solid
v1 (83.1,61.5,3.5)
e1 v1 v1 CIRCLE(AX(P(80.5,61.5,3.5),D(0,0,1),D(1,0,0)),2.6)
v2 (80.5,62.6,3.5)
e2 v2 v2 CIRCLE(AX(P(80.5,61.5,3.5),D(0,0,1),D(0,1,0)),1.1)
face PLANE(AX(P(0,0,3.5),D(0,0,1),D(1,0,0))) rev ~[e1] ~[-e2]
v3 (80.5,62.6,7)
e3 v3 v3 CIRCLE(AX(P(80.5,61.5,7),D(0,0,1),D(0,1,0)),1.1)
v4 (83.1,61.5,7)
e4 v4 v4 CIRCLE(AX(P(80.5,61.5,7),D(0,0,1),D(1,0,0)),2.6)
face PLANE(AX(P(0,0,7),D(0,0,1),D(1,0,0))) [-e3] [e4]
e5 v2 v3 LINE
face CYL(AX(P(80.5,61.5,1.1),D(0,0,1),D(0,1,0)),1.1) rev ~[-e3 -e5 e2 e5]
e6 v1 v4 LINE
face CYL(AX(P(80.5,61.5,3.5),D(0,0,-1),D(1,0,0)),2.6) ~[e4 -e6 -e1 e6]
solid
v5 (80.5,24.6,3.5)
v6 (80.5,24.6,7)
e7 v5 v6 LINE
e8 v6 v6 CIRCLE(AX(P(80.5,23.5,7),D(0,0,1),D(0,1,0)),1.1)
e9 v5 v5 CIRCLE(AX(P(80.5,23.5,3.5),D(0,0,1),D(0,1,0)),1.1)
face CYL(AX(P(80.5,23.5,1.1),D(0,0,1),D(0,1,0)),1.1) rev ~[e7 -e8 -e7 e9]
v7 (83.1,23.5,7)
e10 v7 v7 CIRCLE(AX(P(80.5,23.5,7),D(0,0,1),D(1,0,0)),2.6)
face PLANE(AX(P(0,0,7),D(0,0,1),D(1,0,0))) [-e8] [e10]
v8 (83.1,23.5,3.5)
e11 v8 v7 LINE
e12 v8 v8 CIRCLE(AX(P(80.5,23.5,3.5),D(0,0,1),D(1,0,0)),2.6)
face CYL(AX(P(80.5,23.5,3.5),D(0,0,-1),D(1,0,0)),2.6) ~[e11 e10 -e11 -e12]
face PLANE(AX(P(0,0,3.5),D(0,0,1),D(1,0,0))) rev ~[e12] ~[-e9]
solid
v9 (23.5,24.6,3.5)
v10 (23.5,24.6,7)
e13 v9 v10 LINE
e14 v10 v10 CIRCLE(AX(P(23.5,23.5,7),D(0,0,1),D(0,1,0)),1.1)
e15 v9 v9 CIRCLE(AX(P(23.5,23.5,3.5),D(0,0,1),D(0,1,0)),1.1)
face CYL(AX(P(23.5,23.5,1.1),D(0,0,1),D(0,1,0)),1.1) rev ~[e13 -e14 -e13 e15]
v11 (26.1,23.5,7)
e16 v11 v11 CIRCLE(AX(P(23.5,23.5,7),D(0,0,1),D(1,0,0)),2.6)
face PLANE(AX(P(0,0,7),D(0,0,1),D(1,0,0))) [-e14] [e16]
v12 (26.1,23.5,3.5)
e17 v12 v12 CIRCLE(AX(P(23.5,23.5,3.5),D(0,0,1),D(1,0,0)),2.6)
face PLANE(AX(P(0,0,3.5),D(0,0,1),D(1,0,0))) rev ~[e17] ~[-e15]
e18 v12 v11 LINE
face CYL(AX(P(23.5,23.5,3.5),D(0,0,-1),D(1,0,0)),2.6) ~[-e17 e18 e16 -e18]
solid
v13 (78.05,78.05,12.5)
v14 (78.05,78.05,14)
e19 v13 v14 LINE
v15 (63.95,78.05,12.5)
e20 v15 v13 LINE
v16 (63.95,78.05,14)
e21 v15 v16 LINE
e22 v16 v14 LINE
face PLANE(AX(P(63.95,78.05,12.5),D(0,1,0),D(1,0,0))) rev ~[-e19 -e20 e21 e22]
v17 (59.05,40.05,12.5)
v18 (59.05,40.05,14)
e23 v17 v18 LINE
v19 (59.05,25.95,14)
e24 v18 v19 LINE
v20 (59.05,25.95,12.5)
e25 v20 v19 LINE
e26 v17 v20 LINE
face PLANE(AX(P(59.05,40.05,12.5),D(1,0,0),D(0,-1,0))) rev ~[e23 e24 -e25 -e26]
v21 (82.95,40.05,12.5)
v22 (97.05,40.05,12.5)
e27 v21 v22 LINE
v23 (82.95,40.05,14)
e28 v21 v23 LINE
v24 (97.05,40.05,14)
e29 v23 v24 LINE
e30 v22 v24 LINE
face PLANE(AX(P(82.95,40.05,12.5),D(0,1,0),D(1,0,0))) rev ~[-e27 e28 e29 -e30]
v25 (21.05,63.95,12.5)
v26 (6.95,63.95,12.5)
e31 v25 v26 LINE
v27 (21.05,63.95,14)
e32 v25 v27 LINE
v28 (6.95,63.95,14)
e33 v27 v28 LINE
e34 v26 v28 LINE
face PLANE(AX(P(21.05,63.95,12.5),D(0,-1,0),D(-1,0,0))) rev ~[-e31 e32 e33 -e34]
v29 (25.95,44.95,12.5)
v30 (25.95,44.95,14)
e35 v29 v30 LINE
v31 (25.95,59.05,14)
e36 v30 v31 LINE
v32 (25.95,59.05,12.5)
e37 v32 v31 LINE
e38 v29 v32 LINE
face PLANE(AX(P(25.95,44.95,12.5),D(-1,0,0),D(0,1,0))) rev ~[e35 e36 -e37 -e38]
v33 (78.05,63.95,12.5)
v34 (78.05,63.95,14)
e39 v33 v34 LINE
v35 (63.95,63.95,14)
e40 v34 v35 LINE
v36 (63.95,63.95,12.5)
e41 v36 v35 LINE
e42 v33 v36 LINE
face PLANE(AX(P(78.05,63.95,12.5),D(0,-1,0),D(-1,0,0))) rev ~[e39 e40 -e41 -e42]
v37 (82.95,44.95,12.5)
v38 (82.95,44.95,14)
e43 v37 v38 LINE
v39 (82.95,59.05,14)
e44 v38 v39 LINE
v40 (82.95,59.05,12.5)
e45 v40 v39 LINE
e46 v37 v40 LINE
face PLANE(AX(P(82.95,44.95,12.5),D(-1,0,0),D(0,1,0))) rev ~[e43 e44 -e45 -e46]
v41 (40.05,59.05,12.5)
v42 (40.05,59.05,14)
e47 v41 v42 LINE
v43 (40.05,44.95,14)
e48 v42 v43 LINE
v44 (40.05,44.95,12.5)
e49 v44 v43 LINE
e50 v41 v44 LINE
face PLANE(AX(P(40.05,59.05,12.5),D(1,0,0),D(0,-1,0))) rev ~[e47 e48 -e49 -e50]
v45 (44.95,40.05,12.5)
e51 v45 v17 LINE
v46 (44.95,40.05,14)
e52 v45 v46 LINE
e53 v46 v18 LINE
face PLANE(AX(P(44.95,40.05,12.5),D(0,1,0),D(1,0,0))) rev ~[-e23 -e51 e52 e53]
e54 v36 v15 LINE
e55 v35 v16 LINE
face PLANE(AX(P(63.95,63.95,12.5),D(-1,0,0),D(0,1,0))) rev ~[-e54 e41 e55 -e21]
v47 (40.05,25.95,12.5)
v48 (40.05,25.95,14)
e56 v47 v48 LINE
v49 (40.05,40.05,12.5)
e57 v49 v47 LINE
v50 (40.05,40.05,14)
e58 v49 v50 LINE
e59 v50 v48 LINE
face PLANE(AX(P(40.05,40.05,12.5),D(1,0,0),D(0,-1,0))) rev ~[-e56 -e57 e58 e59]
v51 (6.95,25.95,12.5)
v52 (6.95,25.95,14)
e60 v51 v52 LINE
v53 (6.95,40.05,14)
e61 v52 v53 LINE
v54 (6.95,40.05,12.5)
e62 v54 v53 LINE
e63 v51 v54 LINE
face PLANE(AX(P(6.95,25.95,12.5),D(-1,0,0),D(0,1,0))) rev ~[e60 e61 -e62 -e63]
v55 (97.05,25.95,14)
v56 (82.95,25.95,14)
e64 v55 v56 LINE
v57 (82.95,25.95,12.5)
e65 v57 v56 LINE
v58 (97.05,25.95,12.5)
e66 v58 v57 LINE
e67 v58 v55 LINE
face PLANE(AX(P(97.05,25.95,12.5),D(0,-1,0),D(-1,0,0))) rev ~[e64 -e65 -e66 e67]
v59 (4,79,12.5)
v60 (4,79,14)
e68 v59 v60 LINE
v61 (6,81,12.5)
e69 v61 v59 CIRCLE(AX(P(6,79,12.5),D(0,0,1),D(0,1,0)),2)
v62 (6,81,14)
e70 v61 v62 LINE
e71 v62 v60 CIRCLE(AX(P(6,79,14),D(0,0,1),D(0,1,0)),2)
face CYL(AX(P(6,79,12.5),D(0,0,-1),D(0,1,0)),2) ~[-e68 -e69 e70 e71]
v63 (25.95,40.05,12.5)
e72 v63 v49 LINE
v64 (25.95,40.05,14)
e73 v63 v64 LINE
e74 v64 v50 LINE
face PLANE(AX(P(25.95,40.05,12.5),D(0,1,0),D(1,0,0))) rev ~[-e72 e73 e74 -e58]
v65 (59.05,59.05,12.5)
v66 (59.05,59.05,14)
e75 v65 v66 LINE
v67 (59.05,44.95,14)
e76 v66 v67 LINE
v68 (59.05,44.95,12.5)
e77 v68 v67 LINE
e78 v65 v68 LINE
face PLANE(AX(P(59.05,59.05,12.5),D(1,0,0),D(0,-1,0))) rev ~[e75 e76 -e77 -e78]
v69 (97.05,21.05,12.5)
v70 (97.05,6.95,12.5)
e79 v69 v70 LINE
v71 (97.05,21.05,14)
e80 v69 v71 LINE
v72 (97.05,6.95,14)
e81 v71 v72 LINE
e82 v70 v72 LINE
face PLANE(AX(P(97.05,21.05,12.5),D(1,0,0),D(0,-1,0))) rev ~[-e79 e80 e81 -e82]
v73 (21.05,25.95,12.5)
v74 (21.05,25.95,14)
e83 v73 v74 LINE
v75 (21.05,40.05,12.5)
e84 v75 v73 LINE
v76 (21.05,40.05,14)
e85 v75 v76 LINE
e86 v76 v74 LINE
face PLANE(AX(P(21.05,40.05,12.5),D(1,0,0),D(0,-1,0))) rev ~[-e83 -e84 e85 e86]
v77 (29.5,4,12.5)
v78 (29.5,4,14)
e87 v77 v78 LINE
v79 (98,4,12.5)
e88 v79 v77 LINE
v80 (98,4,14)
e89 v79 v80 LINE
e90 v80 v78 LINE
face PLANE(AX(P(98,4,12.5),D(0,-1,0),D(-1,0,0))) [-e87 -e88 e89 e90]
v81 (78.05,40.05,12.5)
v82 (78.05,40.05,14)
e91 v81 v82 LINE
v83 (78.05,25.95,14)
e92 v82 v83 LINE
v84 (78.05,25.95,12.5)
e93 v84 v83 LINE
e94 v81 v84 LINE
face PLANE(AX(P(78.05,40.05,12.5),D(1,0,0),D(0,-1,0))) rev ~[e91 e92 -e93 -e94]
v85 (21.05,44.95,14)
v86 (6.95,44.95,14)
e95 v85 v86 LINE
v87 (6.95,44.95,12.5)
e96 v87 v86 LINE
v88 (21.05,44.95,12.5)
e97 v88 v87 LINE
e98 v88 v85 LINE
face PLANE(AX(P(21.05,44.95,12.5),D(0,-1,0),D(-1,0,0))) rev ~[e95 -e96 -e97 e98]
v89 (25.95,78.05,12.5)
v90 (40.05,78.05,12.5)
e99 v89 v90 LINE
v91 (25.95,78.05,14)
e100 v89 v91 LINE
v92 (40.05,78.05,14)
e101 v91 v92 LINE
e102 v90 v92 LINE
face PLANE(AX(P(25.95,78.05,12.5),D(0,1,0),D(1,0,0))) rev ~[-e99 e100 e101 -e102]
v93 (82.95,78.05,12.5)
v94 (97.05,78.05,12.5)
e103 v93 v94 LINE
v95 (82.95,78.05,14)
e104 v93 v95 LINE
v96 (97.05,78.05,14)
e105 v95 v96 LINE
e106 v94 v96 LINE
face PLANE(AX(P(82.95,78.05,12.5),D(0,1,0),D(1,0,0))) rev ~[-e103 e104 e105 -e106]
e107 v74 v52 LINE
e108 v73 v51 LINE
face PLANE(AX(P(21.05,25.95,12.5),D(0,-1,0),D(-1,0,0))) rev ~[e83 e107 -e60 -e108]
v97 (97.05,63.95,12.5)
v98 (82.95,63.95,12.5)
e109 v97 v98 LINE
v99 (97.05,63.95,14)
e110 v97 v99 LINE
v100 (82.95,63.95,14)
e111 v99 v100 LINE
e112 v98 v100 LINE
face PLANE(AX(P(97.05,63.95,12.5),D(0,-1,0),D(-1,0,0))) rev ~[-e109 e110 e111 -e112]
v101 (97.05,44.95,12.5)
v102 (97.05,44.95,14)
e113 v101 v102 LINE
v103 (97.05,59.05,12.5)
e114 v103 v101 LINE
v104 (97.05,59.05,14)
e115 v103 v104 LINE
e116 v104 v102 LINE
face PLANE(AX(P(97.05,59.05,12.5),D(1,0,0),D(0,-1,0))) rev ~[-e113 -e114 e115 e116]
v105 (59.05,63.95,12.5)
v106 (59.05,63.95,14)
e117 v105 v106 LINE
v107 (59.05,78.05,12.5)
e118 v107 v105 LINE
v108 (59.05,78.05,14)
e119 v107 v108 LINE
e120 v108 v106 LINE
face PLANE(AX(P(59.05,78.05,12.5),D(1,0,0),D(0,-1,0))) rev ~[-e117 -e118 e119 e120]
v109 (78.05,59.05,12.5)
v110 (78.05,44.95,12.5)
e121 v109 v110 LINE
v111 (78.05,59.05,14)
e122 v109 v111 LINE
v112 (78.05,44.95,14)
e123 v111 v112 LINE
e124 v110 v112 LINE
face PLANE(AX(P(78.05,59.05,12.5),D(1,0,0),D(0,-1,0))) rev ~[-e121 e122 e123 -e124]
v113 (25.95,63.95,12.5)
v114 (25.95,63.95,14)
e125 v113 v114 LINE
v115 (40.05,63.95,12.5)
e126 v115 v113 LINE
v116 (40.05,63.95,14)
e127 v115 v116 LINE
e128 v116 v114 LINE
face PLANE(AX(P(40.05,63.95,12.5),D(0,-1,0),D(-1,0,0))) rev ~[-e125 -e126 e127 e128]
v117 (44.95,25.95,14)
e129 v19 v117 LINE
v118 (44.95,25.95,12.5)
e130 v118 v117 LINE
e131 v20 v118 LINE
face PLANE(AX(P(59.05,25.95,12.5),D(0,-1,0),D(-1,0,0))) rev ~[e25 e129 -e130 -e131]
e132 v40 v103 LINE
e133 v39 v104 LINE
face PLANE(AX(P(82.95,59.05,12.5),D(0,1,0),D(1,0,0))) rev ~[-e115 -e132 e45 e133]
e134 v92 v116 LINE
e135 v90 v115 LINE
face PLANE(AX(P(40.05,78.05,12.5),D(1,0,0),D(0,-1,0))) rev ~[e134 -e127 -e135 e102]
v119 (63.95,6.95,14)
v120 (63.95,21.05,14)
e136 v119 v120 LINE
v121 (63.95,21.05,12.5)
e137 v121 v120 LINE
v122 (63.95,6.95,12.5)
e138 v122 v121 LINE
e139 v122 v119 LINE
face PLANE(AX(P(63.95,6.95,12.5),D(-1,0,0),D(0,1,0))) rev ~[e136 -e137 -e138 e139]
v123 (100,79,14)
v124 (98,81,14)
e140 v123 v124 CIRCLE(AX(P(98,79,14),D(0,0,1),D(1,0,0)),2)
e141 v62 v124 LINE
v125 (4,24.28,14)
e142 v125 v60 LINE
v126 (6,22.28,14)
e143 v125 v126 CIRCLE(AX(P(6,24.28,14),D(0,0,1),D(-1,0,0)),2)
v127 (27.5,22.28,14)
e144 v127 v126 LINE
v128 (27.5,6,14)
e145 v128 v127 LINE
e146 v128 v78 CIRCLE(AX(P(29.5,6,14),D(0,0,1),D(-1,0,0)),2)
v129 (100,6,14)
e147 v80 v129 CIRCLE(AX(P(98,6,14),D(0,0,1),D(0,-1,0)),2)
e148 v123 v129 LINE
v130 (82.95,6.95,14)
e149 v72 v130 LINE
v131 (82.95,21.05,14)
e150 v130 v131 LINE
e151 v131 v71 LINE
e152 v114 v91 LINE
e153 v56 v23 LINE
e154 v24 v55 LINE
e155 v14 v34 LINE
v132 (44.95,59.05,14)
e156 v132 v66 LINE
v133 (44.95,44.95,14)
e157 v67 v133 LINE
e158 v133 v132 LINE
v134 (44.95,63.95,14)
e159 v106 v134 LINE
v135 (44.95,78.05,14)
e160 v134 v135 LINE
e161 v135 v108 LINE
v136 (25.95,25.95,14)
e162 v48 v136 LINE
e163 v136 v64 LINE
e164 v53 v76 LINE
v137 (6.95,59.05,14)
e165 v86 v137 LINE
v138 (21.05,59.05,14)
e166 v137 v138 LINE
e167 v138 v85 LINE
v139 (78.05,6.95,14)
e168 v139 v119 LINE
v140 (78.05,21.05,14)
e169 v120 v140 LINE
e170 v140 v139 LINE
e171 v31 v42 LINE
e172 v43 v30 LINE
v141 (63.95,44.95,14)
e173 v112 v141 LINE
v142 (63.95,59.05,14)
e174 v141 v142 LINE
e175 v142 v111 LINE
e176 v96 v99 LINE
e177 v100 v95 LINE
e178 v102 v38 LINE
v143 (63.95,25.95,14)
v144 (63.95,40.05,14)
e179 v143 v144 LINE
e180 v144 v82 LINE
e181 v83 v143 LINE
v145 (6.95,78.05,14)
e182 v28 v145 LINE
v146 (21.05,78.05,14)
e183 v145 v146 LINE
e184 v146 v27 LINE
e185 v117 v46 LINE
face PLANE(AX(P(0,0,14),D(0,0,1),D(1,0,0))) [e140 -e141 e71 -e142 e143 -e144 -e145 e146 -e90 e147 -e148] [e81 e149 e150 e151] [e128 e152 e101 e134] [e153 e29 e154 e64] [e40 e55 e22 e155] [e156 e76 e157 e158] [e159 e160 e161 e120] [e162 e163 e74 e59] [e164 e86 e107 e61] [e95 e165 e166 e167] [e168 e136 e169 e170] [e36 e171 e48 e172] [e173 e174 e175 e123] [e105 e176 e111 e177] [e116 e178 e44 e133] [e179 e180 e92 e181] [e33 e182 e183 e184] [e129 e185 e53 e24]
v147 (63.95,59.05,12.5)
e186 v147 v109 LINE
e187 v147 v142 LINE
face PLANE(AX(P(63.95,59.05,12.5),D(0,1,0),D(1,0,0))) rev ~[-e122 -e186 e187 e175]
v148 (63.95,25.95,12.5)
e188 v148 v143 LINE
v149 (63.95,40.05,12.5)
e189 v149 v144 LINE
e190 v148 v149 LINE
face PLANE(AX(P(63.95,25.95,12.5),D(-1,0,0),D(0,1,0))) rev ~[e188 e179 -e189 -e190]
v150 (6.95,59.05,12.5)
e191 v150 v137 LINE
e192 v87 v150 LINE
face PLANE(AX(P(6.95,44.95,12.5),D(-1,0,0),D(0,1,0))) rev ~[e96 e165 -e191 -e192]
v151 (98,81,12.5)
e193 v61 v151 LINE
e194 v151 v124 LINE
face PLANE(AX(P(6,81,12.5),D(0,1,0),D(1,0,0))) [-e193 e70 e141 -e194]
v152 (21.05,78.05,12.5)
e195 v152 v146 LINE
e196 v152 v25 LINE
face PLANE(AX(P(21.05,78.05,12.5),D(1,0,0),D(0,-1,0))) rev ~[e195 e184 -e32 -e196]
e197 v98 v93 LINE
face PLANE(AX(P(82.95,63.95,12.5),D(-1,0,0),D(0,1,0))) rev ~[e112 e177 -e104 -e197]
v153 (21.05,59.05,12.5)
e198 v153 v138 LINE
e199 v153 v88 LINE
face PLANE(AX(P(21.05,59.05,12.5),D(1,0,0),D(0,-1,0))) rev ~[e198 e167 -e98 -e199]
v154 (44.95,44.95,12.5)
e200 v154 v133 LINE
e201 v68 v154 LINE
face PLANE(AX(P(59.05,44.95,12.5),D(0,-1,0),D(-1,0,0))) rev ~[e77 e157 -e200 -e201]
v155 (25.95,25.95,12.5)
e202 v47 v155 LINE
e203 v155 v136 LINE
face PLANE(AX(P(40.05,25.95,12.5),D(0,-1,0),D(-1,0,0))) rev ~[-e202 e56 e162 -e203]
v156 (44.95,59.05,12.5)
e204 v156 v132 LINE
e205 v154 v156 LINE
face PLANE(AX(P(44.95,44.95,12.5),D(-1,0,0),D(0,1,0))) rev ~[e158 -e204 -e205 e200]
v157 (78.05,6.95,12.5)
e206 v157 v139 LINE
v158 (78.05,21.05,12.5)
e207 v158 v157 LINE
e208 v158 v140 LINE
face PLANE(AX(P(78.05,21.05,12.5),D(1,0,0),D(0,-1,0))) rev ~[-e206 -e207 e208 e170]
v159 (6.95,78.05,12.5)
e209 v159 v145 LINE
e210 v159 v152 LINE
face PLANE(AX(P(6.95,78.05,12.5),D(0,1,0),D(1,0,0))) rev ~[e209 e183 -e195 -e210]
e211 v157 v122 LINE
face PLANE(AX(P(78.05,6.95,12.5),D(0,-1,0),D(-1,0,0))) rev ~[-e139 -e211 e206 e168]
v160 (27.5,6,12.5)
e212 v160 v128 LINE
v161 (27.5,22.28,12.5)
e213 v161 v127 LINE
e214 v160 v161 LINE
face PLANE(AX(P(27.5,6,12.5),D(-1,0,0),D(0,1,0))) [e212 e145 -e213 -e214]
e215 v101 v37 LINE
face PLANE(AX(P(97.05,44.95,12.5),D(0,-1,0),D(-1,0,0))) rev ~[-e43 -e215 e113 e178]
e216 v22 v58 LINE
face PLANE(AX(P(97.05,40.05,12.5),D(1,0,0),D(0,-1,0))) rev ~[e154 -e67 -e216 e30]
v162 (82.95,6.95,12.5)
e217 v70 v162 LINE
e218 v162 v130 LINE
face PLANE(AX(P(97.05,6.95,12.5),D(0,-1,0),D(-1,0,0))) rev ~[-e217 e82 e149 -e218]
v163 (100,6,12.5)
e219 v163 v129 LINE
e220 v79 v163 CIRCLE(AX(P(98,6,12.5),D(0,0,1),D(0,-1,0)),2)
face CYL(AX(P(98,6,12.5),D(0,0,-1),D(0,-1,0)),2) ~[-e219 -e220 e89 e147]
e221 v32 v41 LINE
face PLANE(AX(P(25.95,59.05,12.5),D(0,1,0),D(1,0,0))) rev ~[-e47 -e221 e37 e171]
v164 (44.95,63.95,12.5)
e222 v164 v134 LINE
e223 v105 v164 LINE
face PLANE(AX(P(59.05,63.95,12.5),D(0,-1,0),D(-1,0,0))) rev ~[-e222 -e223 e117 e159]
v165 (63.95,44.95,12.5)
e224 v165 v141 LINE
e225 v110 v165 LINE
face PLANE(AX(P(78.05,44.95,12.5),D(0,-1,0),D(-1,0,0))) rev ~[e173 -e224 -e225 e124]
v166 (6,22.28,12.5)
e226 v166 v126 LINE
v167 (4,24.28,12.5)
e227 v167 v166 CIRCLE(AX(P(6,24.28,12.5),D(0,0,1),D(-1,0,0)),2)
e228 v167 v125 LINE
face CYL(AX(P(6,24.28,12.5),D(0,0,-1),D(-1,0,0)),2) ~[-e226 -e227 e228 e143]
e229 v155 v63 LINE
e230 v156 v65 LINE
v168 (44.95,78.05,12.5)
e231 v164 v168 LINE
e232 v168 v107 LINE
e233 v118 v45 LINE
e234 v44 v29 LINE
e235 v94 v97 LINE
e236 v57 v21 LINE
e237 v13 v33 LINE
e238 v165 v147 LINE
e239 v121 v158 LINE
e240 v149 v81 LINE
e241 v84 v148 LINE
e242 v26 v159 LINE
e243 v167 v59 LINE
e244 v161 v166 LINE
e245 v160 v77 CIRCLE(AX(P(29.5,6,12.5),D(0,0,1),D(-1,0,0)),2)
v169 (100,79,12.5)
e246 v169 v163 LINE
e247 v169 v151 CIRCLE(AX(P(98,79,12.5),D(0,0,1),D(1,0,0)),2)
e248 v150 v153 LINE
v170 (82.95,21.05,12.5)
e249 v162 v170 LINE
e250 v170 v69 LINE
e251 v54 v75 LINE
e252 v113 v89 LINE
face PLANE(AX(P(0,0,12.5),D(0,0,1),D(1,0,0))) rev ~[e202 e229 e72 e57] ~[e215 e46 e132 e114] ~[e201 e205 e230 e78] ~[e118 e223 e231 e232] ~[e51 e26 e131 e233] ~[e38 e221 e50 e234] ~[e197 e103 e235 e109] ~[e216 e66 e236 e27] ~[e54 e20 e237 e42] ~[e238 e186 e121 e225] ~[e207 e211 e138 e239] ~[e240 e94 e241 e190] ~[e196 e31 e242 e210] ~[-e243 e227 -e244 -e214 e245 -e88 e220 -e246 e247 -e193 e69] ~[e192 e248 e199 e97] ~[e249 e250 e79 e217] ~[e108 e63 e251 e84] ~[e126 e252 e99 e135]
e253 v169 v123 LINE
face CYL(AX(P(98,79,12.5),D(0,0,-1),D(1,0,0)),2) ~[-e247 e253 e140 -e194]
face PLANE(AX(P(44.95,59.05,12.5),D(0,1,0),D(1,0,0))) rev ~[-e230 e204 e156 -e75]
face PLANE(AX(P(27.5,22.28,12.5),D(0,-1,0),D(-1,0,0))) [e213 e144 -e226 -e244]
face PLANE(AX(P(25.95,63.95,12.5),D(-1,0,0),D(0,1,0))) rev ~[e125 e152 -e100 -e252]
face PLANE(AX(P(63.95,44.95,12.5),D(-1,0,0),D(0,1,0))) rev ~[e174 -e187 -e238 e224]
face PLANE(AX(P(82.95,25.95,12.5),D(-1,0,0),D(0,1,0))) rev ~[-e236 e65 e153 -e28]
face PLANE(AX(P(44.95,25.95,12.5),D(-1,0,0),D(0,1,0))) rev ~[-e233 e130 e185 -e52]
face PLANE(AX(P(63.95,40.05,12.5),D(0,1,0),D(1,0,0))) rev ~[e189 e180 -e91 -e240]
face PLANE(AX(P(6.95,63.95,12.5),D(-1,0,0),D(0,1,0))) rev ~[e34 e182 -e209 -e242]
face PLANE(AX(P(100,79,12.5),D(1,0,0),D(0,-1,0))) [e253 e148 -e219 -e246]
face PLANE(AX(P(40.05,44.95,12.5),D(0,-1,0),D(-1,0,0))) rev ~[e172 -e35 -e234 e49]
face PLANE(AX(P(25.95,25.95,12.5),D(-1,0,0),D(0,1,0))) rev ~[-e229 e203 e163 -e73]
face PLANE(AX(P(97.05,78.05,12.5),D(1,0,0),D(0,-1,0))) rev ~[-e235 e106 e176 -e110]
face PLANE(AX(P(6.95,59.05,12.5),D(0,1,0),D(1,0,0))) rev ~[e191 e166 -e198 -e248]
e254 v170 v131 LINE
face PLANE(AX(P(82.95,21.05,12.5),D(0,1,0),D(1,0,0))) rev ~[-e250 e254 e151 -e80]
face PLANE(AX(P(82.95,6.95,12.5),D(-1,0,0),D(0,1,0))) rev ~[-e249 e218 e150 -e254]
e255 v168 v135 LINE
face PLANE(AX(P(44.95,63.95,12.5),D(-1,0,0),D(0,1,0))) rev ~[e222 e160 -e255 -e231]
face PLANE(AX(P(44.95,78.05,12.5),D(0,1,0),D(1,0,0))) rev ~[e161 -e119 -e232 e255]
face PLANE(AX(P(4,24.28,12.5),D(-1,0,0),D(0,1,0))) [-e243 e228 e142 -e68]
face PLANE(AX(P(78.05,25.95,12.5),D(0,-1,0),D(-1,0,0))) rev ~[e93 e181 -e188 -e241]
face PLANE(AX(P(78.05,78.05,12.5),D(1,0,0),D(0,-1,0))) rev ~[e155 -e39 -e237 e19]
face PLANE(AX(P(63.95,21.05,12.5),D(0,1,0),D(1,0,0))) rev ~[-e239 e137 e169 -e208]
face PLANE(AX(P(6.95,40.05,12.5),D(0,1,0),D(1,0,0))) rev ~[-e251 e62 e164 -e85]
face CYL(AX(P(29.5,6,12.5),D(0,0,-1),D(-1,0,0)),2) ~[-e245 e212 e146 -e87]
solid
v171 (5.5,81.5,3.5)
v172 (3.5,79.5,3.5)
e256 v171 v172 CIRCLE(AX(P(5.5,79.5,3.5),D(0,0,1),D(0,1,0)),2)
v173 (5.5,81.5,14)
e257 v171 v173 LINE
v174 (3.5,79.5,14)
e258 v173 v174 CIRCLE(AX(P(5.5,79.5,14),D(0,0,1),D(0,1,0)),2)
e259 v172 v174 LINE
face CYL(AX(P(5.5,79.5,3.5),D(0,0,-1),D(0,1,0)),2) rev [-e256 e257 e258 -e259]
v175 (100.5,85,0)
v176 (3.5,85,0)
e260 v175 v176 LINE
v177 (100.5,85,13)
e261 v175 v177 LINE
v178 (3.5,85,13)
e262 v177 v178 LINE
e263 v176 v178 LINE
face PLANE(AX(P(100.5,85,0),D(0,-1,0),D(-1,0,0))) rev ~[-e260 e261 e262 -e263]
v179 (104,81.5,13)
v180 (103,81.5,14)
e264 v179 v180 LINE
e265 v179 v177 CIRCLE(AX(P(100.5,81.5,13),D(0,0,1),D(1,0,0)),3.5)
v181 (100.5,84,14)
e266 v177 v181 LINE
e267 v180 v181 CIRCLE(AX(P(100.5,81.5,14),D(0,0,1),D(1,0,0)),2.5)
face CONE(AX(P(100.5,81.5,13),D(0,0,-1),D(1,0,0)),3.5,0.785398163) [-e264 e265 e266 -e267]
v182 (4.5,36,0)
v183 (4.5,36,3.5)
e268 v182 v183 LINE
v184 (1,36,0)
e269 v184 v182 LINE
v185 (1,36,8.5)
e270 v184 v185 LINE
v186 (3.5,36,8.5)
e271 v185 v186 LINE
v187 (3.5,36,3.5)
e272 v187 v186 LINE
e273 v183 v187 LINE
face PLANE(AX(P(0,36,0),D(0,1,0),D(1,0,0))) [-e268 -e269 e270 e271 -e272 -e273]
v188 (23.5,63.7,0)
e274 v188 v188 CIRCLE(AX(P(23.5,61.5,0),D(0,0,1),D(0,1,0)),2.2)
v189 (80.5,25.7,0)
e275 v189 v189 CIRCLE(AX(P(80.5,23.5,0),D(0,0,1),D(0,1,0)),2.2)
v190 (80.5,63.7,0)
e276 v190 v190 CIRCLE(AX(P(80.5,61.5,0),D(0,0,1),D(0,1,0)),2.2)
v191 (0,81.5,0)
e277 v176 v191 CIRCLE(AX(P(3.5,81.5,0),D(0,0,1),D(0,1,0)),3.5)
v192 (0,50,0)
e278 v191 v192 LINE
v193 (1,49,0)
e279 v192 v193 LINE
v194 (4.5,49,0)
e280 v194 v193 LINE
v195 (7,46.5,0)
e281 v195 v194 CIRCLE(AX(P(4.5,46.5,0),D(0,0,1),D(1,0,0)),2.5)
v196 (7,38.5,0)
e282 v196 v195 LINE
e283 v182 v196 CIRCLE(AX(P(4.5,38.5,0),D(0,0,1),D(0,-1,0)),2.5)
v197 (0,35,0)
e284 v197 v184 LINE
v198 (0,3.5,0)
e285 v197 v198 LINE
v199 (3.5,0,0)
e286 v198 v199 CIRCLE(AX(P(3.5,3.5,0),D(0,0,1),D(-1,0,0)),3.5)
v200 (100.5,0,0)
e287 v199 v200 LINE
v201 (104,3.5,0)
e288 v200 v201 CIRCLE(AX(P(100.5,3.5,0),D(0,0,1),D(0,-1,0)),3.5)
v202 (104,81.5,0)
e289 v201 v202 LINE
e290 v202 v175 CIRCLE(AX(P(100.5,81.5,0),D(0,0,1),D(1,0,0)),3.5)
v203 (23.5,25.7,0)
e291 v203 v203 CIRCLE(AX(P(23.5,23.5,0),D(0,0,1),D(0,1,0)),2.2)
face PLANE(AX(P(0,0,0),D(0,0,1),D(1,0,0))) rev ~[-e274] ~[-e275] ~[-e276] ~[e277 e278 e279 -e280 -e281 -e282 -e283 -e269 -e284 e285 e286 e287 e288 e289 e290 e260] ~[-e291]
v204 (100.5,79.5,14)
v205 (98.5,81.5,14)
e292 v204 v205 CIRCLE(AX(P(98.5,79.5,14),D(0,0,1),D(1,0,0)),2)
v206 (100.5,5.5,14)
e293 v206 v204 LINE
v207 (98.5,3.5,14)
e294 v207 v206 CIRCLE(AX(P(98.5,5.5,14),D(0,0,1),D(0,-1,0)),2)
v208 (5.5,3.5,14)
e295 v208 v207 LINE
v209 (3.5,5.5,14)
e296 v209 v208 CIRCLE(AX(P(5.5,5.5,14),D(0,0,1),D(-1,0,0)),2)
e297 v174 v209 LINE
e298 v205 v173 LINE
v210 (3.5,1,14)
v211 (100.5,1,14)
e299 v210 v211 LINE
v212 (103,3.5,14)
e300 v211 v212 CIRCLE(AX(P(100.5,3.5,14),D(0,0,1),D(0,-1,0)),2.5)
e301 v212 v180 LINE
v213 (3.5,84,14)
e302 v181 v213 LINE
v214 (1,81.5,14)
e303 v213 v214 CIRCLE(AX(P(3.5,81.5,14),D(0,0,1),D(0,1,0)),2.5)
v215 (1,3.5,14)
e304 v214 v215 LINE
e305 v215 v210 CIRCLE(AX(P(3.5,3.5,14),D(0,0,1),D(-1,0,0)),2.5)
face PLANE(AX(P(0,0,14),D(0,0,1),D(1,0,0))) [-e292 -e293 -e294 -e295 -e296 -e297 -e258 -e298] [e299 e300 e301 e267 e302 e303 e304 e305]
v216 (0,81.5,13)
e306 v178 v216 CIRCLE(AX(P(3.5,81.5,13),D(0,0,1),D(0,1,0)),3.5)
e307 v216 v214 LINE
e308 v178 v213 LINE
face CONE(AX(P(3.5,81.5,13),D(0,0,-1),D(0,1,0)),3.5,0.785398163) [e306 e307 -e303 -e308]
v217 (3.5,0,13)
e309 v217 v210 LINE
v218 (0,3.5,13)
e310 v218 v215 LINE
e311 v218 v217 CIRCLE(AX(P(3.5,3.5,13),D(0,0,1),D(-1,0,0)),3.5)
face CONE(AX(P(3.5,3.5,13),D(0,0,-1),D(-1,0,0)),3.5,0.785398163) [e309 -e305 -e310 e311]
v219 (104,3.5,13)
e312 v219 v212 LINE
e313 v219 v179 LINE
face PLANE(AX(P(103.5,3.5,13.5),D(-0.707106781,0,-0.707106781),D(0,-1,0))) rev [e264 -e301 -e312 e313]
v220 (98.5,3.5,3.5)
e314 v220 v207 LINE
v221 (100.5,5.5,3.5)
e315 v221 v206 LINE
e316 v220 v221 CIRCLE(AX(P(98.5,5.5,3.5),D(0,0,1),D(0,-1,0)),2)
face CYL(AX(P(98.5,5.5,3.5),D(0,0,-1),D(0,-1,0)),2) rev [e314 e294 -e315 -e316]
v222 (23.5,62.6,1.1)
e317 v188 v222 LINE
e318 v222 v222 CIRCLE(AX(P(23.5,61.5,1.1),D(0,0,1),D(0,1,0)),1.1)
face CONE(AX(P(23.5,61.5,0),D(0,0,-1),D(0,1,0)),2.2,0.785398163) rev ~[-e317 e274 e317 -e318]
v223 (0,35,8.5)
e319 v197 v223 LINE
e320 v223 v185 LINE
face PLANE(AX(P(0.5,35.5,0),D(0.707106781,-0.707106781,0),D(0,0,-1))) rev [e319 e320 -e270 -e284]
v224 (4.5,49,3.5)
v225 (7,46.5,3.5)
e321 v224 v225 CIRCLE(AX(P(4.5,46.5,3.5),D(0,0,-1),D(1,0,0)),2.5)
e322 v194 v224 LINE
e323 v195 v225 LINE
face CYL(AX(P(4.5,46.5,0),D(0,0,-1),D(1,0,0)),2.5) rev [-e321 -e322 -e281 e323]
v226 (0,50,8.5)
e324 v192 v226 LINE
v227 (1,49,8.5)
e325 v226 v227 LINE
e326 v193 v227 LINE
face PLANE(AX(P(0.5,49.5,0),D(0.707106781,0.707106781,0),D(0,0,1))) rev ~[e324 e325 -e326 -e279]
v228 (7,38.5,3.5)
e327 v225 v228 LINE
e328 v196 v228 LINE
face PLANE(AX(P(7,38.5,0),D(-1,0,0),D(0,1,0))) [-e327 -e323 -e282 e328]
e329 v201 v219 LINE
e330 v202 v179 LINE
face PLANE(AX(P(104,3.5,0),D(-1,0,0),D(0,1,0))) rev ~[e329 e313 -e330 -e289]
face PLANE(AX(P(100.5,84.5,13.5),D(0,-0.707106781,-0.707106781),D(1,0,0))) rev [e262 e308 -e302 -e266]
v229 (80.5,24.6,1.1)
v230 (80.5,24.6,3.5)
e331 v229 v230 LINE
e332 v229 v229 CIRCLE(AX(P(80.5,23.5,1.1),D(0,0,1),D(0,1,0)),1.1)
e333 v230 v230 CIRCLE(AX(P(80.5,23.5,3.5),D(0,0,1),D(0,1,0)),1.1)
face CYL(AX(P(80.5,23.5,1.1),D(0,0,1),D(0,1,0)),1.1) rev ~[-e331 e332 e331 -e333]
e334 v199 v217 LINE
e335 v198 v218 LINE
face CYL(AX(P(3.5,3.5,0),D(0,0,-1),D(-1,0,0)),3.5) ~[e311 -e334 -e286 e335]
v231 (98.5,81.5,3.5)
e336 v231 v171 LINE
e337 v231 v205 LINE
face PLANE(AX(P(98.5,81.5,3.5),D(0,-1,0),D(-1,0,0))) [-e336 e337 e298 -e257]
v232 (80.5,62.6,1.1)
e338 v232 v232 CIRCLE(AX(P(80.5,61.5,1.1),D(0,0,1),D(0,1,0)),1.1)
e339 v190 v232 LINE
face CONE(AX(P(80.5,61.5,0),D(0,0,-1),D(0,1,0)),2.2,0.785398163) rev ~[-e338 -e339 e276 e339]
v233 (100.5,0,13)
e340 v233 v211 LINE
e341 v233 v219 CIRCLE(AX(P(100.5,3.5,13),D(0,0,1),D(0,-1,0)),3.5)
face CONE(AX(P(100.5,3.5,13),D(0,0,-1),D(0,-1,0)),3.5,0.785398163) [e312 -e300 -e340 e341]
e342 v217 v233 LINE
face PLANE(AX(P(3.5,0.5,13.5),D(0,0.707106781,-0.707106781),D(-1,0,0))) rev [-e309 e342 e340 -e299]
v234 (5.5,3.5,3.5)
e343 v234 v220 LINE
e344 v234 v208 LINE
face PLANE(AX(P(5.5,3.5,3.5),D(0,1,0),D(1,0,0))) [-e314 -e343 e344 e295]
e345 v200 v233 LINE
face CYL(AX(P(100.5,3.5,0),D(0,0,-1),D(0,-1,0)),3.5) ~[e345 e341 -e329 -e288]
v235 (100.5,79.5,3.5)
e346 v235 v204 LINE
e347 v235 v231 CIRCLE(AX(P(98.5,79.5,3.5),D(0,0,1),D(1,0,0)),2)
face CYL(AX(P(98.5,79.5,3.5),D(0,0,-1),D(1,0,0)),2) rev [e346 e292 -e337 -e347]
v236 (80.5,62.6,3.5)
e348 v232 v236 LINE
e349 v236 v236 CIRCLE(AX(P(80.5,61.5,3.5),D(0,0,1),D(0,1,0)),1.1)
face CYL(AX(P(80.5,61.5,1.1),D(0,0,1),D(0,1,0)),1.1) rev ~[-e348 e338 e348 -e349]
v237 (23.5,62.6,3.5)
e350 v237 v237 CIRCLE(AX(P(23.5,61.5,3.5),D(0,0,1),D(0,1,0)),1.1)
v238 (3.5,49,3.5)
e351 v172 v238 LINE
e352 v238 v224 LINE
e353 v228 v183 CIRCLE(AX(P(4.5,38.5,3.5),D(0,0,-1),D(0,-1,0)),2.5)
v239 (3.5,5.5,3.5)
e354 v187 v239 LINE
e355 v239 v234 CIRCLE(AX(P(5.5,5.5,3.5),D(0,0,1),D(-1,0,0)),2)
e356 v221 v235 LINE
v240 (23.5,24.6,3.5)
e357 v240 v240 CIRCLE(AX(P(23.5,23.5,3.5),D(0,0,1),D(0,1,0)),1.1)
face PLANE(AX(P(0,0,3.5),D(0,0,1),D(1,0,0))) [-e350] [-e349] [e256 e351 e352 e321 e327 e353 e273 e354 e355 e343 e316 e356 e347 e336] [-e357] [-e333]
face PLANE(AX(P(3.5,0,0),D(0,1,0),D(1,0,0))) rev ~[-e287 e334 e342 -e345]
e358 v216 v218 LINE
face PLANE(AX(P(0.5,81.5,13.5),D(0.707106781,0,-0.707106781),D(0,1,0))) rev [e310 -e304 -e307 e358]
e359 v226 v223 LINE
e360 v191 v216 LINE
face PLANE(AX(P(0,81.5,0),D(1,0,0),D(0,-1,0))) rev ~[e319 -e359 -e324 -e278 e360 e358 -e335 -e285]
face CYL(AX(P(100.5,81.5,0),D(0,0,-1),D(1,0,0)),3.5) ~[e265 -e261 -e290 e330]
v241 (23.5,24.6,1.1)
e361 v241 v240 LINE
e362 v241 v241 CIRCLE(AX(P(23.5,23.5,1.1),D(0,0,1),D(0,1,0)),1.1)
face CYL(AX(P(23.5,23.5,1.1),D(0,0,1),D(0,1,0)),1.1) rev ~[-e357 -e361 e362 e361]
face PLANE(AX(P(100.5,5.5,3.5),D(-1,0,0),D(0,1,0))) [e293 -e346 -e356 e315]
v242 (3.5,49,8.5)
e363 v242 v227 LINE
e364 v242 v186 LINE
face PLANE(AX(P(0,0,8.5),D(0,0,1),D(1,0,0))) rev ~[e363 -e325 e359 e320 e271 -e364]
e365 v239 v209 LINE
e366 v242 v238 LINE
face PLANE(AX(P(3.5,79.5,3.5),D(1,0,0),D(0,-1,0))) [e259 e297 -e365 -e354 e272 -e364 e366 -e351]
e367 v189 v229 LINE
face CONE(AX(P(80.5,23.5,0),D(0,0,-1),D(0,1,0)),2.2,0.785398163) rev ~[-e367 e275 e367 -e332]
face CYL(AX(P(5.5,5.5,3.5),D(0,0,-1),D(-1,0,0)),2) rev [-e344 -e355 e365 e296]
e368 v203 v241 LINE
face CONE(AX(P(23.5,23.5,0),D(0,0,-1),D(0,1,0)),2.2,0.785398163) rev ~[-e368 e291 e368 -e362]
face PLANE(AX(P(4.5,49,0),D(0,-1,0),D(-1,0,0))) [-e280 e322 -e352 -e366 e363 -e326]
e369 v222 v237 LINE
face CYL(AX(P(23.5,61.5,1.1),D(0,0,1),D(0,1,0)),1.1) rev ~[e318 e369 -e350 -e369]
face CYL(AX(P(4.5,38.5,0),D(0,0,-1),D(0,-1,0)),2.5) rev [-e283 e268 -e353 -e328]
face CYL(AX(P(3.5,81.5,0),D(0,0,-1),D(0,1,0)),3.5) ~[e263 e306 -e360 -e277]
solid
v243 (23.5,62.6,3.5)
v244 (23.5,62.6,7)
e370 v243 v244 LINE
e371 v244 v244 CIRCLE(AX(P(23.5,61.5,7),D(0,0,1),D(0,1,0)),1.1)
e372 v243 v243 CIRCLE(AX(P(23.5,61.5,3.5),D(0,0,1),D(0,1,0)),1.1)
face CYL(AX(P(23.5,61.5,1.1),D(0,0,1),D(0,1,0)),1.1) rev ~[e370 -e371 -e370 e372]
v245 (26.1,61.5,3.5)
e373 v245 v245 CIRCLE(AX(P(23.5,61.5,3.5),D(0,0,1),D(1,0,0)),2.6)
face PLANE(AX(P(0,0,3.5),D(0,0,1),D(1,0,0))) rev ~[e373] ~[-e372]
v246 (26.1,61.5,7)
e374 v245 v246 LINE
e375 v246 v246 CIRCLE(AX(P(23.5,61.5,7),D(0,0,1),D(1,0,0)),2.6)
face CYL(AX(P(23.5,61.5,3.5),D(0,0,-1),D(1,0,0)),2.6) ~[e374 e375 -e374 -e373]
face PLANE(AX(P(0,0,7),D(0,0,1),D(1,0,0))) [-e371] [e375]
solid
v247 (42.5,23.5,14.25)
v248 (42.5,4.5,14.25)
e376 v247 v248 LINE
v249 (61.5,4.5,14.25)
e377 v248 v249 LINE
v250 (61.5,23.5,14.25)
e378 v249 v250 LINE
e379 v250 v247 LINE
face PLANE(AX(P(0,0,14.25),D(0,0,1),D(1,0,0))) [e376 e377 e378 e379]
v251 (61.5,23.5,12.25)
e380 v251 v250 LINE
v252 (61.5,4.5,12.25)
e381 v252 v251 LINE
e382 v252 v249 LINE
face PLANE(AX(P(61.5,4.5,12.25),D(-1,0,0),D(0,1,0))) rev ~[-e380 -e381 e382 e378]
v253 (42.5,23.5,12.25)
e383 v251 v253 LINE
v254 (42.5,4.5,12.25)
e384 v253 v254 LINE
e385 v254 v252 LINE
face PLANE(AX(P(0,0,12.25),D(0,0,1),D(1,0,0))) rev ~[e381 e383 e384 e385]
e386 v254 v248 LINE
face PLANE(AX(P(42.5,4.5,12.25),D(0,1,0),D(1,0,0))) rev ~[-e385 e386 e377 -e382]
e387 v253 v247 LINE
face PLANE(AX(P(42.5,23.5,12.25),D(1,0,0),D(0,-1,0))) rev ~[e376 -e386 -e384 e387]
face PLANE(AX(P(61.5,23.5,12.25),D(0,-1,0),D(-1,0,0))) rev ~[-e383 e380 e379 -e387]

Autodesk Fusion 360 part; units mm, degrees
sketch "CaseOuter" plane through (0, 0, 0) normal (0, 0, 1) x (1, 0, 0)
  line L0 (3.5, 0) -> (100.5, 0)
  line L1 (104, 3.5) -> (104, 81.5)
  line L2 (100.5, 85) -> (3.5, 85)
  line L3 (0, 81.5) -> (0, 3.5)
  arc A0 (3.5, 85) -> (0, 81.5) centre (3.5, 81.5) ccw
  arc A1 (104, 81.5) -> (100.5, 85) centre (100.5, 81.5) ccw
  arc A2 (100.5, 0) -> (104, 3.5) centre (100.5, 3.5) ccw
  arc A3 (0, 3.5) -> (3.5, 0) centre (3.5, 3.5) ccw
  point P0 (104, 0)
  point P1 (104, 85)
  point P2 (0, 85)
  dimension "d1" = 104
  dimension "d2" = 85
  dimension "d3" = 104
  dimension "d15" = 3.5
  dimension "d16" = 3.5
  dimension "d17" = 3.5
  dimension "d18" = 3.5
sketch "CaseInner" plane through (0, 0, 0) normal (0, 0, 1) x (1, 0, 0)
  line L0 (5.5, 3.5) -> (98.5, 3.5)
  line L1 (100.5, 5.5) -> (100.5, 79.5)
  line L2 (98.5, 81.5) -> (5.5, 81.5)
  line L3 (3.5, 79.5) -> (3.5, 5.5)
  arc A0 (5.5, 81.5) -> (3.5, 79.5) centre (5.5, 79.5) ccw
  arc A1 (100.5, 79.5) -> (98.5, 81.5) centre (98.5, 79.5) ccw
  arc A2 (98.5, 3.5) -> (100.5, 5.5) centre (98.5, 5.5) ccw
  arc A3 (3.5, 5.5) -> (5.5, 3.5) centre (5.5, 5.5) ccw
  point P0 (3.5, 3.5)
  point P1 (100.5, 3.5)
  point P2 (100.5, 81.5)
  point P3 (3.5, 81.5)
  dimension "d4" = 97
  dimension "d5" = 78
  dimension "d6" = 97
  dimension "d19" = 2
sketch "CaseStandOff" plane through (0, 0, 0) normal (0, 0, 1) x (1, 0, 0)
  circle A0 centre (23.5, 23.5) radius 2.6
  circle A1 centre (23.5, 61.5) radius 2.6
  circle A2 centre (80.5, 61.5) radius 2.6
  circle A3 centre (80.5, 23.5) radius 2.6
  dimension "d11" = 5.2
  dimension "d12" = 5.2
  dimension "d13" = 5.2
  dimension "d14" = 5.2
extrude "Extrude1" add sketch "CaseOuter" along normal blind 14 makes body 1
extrude "Extrude2" cut sketch "CaseInner" along normal blind 10.5 from surface at 3.5 bodies 1
extrude "Extrude3" add sketch "CaseStandOff" along normal blind 3.5 from surface at 3.5 separate body makes body 2 at (26.0871, 23.2411, 5.8333) makes body 3 at (80.4352, 26.0992, 5.8333) makes body 4 at (26.0871, 61.2411, 5.8333) makes body 5 at (80.0485, 58.9395, 4.6667)
hole "Hole1" at (23.5, 23.5, 0) at (23.5, 61.5, 0) at (80.5, 61.5, 0) at (80.5, 23.5, 0) direction (0, 0, 1) diameter 2.2 depth 7 tip angle 180 countersink diameter 4.4 countersink angle 90 bodies 1 2 3 4 5
sketch "CaseSwitchHole" plane through (0, 0, 0) normal (0, 0, 1) x (1, 0, 0)
  line L0 (0, 36) -> (4.5, 36)
  line L1 (7, 38.5) -> (7, 46.5)
  line L2 (4.5, 49) -> (0, 49)
  line L3 (0, 49) -> (0, 36)
  arc A0 (7, 46.5) -> (4.5, 49) centre (4.5, 46.5) ccw
  arc A1 (4.5, 36) -> (7, 38.5) centre (4.5, 38.5) ccw
  line L4 (0, 81.5) -> (0, 3.5)
  point P0 (7, 36)
  dimension "d33" = 7
  dimension "d34" = 13
  dimension "d35" = 2.5
extrude "Extrude4" cut sketch "CaseSwitchHole" along normal blind 8.5 bodies 1
chamfer "Chamfer1" distance 1 angle 45 8 edges at (0, 42.5, 14) (1.0251, 1.0251, 14) (52, 0, 14) (102.9749, 1.0251, 14) (104, 42.5, 14) (102.9749, 83.9749, 14) (52, 85, 14) (1.0251, 83.9749, 14) on bodies 1
chamfer "Chamfer2" distance 1 angle 45 1 edges at (0, 49, 4.25) on bodies 1
chamfer "Chamfer3" distance 1 angle 45 1 edges at (0, 36, 4.25) on bodies 1
sketch "PlateOuter" plane through (0, 0, 0) normal (0, 0, 1) x (1, 0, 0)
  line L0 (6, 81) -> (98, 81)
  line L1 (100, 79) -> (100, 6)
  line L2 (98, 4) -> (29.5, 4)
  line L3 (27.5, 6) -> (27.5, 22.28)
  line L4 (27.5, 22.28) -> (6, 22.28)
  line L5 (4, 24.28) -> (4, 79)
  arc A0 (6, 81) -> (4, 79) centre (6, 79) ccw
  arc A1 (100, 79) -> (98, 81) centre (98, 79) ccw
  arc A2 (98, 4) -> (100, 6) centre (98, 6) ccw
  arc A3 (27.5, 6) -> (29.5, 4) centre (29.5, 6) ccw
  arc A4 (4, 24.28) -> (6, 22.28) centre (6, 24.28) ccw
  point P0 (4, 4)
  point P1 (100, 4)
  point P2 (4, 81)
  point P3 (100, 4)
  point P4 (27.5, 4)
  point P5 (4, 22.28)
  dimension "d41" = 96
  dimension "d42" = 77
  dimension "d57" = 90
  dimension "d58" = 72.5
  dimension "d59" = 18.28
  dimension "d60" = 23.5
  dimension "d61" = 2
  dimension "d62" = 2
sketch "PlateHole" plane through (0, 0, 0) normal (0, 0, 1) x (1, 0, 0)
  line L0 (97.05, 63.95) -> (82.95, 63.95)
  line L1 (82.95, 63.95) -> (82.95, 78.05)
  line L2 (82.95, 78.05) -> (97.05, 78.05)
  line L3 (97.05, 78.05) -> (97.05, 63.95)
  line L4 (97.05, 63.95) -> (82.95, 78.05) construction
  line L5 (82.95, 63.95) -> (97.05, 78.05) construction
  line L6 (63.95, 78.05) -> (78.05, 78.05)
  line L7 (78.05, 63.95) -> (63.95, 63.95)
  line L8 (78.05, 78.05) -> (78.05, 63.95)
  line L9 (78.05, 63.95) -> (63.95, 78.05) construction
  line L10 (63.95, 63.95) -> (63.95, 78.05)
  line L11 (63.95, 63.95) -> (78.05, 78.05) construction
  line L12 (44.95, 78.05) -> (59.05, 78.05)
  line L13 (59.05, 63.95) -> (44.95, 63.95)
  line L14 (59.05, 78.05) -> (59.05, 63.95)
  line L15 (59.05, 63.95) -> (44.95, 78.05) construction
  line L16 (44.95, 63.95) -> (44.95, 78.05)
  line L17 (44.95, 63.95) -> (59.05, 78.05) construction
  line L18 (25.95, 78.05) -> (40.05, 78.05)
  line L19 (40.05, 63.95) -> (25.95, 63.95)
  line L20 (40.05, 78.05) -> (40.05, 63.95)
  line L21 (40.05, 63.95) -> (25.95, 78.05) construction
  line L22 (25.95, 63.95) -> (25.95, 78.05)
  line L23 (25.95, 63.95) -> (40.05, 78.05) construction
  line L24 (6.95, 78.05) -> (21.05, 78.05)
  line L25 (21.05, 63.95) -> (6.95, 63.95)
  line L26 (21.05, 78.05) -> (21.05, 63.95)
  line L27 (21.05, 63.95) -> (6.95, 78.05) construction
  line L28 (6.95, 63.95) -> (6.95, 78.05)
  line L29 (6.95, 63.95) -> (21.05, 78.05) construction
  line L30 (82.95, 59.05) -> (97.05, 59.05)
  line L31 (97.05, 44.95) -> (82.95, 44.95)
  line L32 (97.05, 59.05) -> (97.05, 44.95)
  line L33 (97.05, 44.95) -> (82.95, 59.05) construction
  line L34 (82.95, 44.95) -> (82.95, 59.05)
  line L35 (82.95, 44.95) -> (97.05, 59.05) construction
  line L36 (63.95, 59.05) -> (78.05, 59.05)
  line L37 (78.05, 44.95) -> (63.95, 44.95)
  line L38 (78.05, 59.05) -> (78.05, 44.95)
  line L39 (78.05, 44.95) -> (63.95, 59.05) construction
  line L40 (63.95, 44.95) -> (63.95, 59.05)
  line L41 (63.95, 44.95) -> (78.05, 59.05) construction
  line L42 (44.95, 59.05) -> (59.05, 59.05)
  line L43 (59.05, 44.95) -> (44.95, 44.95)
  line L44 (59.05, 59.05) -> (59.05, 44.95)
  line L45 (59.05, 44.95) -> (44.95, 59.05) construction
  line L46 (44.95, 44.95) -> (44.95, 59.05)
  line L47 (44.95, 44.95) -> (59.05, 59.05) construction
  line L48 (25.95, 59.05) -> (40.05, 59.05)
  line L49 (40.05, 44.95) -> (25.95, 44.95)
  line L50 (40.05, 59.05) -> (40.05, 44.95)
  line L51 (40.05, 44.95) -> (25.95, 59.05) construction
  line L52 (25.95, 44.95) -> (25.95, 59.05)
  line L53 (25.95, 44.95) -> (40.05, 59.05) construction
  line L54 (6.95, 59.05) -> (21.05, 59.05)
  line L55 (21.05, 44.95) -> (6.95, 44.95)
  line L56 (21.05, 59.05) -> (21.05, 44.95)
  line L57 (21.05, 44.95) -> (6.95, 59.05) construction
  line L58 (6.95, 44.95) -> (6.95, 59.05)
  line L59 (6.95, 44.95) -> (21.05, 59.05) construction
  line L60 (82.95, 40.05) -> (97.05, 40.05)
  line L61 (97.05, 25.95) -> (82.95, 25.95)
  line L62 (97.05, 40.05) -> (97.05, 25.95)
  line L63 (97.05, 25.95) -> (82.95, 40.05) construction
  line L64 (82.95, 25.95) -> (82.95, 40.05)
  line L65 (82.95, 25.95) -> (97.05, 40.05) construction
  line L66 (63.95, 40.05) -> (78.05, 40.05)
  line L67 (78.05, 25.95) -> (63.95, 25.95)
  line L68 (78.05, 40.05) -> (78.05, 25.95)
  line L69 (78.05, 25.95) -> (63.95, 40.05) construction
  line L70 (63.95, 25.95) -> (63.95, 40.05)
  line L71 (63.95, 25.95) -> (78.05, 40.05) construction
  line L72 (44.95, 40.05) -> (59.05, 40.05)
  line L73 (59.05, 25.95) -> (44.95, 25.95)
  line L74 (59.05, 40.05) -> (59.05, 25.95)
  line L75 (59.05, 25.95) -> (44.95, 40.05) construction
  line L76 (44.95, 25.95) -> (44.95, 40.05)
  line L77 (44.95, 25.95) -> (59.05, 40.05) construction
  line L78 (25.95, 40.05) -> (40.05, 40.05)
  line L79 (40.05, 25.95) -> (25.95, 25.95)
  line L80 (40.05, 40.05) -> (40.05, 25.95)
  line L81 (40.05, 25.95) -> (25.95, 40.05) construction
  line L82 (25.95, 25.95) -> (25.95, 40.05)
  line L83 (25.95, 25.95) -> (40.05, 40.05) construction
  line L84 (6.95, 40.05) -> (21.05, 40.05)
  line L85 (21.05, 25.95) -> (6.95, 25.95)
  line L86 (21.05, 40.05) -> (21.05, 25.95)
  line L87 (21.05, 25.95) -> (6.95, 40.05) construction
  line L88 (6.95, 25.95) -> (6.95, 40.05)
  line L89 (6.95, 25.95) -> (21.05, 40.05) construction
  line L90 (82.95, 21.05) -> (97.05, 21.05)
  line L91 (97.05, 6.95) -> (82.95, 6.95)
  line L92 (97.05, 21.05) -> (97.05, 6.95)
  line L93 (97.05, 6.95) -> (82.95, 21.05) construction
  line L94 (82.95, 6.95) -> (82.95, 21.05)
  line L95 (82.95, 6.95) -> (97.05, 21.05) construction
  line L96 (63.95, 21.05) -> (78.05, 21.05)
  line L97 (78.05, 6.95) -> (63.95, 6.95)
  line L98 (78.05, 21.05) -> (78.05, 6.95)
  line L99 (78.05, 6.95) -> (63.95, 21.05) construction
  line L100 (63.95, 6.95) -> (63.95, 21.05)
  line L101 (63.95, 6.95) -> (78.05, 21.05) construction
  point P0 (90, 71)
  point P1 (71, 71)
  point P2 (52, 71)
  point P3 (33, 71)
  point P4 (14, 71)
  point P5 (90, 52)
  point P6 (71, 52)
  point P7 (52, 52)
  point P8 (33, 52)
  point P9 (14, 52)
  point P10 (90, 33)
  point P11 (71, 33)
  point P12 (52, 33)
  point P13 (33, 33)
  point P14 (14, 33)
  point P15 (90, 14)
  point P16 (71, 14)
  dimension "d44" = 14.1
  dimension "d45" = 14.1
  dimension "d53" = -19
  dimension "d54" = -19
extrude "Extrude5" add sketch "PlateOuter" along normal blind 1.5 from surface at 12.5 separate body makes body 6
extrude "Extrude6" cut sketch "PlateHole" along normal blind 1.5 from surface at 12.5 bodies 6
sketch "PlateBlocker" plane through (0, 0, 0) normal (0, 0, 1) x (1, 0, 0)
  line L0 (61.5, 23.5) -> (42.5, 23.5)
  line L1 (42.5, 23.5) -> (42.5, 4.5)
  line L2 (42.5, 4.5) -> (61.5, 4.5)
  line L3 (61.5, 4.5) -> (61.5, 23.5)
extrude "Extrude7" add sketch "PlateBlocker" along normal blind 2 from surface at 12.25 separate body makes body 7
copy_body "CutPasteBodies1" bodies 1 2 5 3 4 removing the originals makes body 8 makes body 9 makes body 10 makes body 11 makes body 12 in component "case"
copy_body "CutPasteBodies1'" bodies 6 7 removing the originals makes body 13 makes body 14 in component "plate"
component "case" placed x (1, 0, 0) y (0, 1, 0) z (0, 0, 1) at (0, 0, 0)
component "plate" placed x (1, 0, 0) y (0, 1, 0) z (0, 0, 1) at (0, 0, 0)
equation "d59 = 17.78 mm + 0.5 mm"
